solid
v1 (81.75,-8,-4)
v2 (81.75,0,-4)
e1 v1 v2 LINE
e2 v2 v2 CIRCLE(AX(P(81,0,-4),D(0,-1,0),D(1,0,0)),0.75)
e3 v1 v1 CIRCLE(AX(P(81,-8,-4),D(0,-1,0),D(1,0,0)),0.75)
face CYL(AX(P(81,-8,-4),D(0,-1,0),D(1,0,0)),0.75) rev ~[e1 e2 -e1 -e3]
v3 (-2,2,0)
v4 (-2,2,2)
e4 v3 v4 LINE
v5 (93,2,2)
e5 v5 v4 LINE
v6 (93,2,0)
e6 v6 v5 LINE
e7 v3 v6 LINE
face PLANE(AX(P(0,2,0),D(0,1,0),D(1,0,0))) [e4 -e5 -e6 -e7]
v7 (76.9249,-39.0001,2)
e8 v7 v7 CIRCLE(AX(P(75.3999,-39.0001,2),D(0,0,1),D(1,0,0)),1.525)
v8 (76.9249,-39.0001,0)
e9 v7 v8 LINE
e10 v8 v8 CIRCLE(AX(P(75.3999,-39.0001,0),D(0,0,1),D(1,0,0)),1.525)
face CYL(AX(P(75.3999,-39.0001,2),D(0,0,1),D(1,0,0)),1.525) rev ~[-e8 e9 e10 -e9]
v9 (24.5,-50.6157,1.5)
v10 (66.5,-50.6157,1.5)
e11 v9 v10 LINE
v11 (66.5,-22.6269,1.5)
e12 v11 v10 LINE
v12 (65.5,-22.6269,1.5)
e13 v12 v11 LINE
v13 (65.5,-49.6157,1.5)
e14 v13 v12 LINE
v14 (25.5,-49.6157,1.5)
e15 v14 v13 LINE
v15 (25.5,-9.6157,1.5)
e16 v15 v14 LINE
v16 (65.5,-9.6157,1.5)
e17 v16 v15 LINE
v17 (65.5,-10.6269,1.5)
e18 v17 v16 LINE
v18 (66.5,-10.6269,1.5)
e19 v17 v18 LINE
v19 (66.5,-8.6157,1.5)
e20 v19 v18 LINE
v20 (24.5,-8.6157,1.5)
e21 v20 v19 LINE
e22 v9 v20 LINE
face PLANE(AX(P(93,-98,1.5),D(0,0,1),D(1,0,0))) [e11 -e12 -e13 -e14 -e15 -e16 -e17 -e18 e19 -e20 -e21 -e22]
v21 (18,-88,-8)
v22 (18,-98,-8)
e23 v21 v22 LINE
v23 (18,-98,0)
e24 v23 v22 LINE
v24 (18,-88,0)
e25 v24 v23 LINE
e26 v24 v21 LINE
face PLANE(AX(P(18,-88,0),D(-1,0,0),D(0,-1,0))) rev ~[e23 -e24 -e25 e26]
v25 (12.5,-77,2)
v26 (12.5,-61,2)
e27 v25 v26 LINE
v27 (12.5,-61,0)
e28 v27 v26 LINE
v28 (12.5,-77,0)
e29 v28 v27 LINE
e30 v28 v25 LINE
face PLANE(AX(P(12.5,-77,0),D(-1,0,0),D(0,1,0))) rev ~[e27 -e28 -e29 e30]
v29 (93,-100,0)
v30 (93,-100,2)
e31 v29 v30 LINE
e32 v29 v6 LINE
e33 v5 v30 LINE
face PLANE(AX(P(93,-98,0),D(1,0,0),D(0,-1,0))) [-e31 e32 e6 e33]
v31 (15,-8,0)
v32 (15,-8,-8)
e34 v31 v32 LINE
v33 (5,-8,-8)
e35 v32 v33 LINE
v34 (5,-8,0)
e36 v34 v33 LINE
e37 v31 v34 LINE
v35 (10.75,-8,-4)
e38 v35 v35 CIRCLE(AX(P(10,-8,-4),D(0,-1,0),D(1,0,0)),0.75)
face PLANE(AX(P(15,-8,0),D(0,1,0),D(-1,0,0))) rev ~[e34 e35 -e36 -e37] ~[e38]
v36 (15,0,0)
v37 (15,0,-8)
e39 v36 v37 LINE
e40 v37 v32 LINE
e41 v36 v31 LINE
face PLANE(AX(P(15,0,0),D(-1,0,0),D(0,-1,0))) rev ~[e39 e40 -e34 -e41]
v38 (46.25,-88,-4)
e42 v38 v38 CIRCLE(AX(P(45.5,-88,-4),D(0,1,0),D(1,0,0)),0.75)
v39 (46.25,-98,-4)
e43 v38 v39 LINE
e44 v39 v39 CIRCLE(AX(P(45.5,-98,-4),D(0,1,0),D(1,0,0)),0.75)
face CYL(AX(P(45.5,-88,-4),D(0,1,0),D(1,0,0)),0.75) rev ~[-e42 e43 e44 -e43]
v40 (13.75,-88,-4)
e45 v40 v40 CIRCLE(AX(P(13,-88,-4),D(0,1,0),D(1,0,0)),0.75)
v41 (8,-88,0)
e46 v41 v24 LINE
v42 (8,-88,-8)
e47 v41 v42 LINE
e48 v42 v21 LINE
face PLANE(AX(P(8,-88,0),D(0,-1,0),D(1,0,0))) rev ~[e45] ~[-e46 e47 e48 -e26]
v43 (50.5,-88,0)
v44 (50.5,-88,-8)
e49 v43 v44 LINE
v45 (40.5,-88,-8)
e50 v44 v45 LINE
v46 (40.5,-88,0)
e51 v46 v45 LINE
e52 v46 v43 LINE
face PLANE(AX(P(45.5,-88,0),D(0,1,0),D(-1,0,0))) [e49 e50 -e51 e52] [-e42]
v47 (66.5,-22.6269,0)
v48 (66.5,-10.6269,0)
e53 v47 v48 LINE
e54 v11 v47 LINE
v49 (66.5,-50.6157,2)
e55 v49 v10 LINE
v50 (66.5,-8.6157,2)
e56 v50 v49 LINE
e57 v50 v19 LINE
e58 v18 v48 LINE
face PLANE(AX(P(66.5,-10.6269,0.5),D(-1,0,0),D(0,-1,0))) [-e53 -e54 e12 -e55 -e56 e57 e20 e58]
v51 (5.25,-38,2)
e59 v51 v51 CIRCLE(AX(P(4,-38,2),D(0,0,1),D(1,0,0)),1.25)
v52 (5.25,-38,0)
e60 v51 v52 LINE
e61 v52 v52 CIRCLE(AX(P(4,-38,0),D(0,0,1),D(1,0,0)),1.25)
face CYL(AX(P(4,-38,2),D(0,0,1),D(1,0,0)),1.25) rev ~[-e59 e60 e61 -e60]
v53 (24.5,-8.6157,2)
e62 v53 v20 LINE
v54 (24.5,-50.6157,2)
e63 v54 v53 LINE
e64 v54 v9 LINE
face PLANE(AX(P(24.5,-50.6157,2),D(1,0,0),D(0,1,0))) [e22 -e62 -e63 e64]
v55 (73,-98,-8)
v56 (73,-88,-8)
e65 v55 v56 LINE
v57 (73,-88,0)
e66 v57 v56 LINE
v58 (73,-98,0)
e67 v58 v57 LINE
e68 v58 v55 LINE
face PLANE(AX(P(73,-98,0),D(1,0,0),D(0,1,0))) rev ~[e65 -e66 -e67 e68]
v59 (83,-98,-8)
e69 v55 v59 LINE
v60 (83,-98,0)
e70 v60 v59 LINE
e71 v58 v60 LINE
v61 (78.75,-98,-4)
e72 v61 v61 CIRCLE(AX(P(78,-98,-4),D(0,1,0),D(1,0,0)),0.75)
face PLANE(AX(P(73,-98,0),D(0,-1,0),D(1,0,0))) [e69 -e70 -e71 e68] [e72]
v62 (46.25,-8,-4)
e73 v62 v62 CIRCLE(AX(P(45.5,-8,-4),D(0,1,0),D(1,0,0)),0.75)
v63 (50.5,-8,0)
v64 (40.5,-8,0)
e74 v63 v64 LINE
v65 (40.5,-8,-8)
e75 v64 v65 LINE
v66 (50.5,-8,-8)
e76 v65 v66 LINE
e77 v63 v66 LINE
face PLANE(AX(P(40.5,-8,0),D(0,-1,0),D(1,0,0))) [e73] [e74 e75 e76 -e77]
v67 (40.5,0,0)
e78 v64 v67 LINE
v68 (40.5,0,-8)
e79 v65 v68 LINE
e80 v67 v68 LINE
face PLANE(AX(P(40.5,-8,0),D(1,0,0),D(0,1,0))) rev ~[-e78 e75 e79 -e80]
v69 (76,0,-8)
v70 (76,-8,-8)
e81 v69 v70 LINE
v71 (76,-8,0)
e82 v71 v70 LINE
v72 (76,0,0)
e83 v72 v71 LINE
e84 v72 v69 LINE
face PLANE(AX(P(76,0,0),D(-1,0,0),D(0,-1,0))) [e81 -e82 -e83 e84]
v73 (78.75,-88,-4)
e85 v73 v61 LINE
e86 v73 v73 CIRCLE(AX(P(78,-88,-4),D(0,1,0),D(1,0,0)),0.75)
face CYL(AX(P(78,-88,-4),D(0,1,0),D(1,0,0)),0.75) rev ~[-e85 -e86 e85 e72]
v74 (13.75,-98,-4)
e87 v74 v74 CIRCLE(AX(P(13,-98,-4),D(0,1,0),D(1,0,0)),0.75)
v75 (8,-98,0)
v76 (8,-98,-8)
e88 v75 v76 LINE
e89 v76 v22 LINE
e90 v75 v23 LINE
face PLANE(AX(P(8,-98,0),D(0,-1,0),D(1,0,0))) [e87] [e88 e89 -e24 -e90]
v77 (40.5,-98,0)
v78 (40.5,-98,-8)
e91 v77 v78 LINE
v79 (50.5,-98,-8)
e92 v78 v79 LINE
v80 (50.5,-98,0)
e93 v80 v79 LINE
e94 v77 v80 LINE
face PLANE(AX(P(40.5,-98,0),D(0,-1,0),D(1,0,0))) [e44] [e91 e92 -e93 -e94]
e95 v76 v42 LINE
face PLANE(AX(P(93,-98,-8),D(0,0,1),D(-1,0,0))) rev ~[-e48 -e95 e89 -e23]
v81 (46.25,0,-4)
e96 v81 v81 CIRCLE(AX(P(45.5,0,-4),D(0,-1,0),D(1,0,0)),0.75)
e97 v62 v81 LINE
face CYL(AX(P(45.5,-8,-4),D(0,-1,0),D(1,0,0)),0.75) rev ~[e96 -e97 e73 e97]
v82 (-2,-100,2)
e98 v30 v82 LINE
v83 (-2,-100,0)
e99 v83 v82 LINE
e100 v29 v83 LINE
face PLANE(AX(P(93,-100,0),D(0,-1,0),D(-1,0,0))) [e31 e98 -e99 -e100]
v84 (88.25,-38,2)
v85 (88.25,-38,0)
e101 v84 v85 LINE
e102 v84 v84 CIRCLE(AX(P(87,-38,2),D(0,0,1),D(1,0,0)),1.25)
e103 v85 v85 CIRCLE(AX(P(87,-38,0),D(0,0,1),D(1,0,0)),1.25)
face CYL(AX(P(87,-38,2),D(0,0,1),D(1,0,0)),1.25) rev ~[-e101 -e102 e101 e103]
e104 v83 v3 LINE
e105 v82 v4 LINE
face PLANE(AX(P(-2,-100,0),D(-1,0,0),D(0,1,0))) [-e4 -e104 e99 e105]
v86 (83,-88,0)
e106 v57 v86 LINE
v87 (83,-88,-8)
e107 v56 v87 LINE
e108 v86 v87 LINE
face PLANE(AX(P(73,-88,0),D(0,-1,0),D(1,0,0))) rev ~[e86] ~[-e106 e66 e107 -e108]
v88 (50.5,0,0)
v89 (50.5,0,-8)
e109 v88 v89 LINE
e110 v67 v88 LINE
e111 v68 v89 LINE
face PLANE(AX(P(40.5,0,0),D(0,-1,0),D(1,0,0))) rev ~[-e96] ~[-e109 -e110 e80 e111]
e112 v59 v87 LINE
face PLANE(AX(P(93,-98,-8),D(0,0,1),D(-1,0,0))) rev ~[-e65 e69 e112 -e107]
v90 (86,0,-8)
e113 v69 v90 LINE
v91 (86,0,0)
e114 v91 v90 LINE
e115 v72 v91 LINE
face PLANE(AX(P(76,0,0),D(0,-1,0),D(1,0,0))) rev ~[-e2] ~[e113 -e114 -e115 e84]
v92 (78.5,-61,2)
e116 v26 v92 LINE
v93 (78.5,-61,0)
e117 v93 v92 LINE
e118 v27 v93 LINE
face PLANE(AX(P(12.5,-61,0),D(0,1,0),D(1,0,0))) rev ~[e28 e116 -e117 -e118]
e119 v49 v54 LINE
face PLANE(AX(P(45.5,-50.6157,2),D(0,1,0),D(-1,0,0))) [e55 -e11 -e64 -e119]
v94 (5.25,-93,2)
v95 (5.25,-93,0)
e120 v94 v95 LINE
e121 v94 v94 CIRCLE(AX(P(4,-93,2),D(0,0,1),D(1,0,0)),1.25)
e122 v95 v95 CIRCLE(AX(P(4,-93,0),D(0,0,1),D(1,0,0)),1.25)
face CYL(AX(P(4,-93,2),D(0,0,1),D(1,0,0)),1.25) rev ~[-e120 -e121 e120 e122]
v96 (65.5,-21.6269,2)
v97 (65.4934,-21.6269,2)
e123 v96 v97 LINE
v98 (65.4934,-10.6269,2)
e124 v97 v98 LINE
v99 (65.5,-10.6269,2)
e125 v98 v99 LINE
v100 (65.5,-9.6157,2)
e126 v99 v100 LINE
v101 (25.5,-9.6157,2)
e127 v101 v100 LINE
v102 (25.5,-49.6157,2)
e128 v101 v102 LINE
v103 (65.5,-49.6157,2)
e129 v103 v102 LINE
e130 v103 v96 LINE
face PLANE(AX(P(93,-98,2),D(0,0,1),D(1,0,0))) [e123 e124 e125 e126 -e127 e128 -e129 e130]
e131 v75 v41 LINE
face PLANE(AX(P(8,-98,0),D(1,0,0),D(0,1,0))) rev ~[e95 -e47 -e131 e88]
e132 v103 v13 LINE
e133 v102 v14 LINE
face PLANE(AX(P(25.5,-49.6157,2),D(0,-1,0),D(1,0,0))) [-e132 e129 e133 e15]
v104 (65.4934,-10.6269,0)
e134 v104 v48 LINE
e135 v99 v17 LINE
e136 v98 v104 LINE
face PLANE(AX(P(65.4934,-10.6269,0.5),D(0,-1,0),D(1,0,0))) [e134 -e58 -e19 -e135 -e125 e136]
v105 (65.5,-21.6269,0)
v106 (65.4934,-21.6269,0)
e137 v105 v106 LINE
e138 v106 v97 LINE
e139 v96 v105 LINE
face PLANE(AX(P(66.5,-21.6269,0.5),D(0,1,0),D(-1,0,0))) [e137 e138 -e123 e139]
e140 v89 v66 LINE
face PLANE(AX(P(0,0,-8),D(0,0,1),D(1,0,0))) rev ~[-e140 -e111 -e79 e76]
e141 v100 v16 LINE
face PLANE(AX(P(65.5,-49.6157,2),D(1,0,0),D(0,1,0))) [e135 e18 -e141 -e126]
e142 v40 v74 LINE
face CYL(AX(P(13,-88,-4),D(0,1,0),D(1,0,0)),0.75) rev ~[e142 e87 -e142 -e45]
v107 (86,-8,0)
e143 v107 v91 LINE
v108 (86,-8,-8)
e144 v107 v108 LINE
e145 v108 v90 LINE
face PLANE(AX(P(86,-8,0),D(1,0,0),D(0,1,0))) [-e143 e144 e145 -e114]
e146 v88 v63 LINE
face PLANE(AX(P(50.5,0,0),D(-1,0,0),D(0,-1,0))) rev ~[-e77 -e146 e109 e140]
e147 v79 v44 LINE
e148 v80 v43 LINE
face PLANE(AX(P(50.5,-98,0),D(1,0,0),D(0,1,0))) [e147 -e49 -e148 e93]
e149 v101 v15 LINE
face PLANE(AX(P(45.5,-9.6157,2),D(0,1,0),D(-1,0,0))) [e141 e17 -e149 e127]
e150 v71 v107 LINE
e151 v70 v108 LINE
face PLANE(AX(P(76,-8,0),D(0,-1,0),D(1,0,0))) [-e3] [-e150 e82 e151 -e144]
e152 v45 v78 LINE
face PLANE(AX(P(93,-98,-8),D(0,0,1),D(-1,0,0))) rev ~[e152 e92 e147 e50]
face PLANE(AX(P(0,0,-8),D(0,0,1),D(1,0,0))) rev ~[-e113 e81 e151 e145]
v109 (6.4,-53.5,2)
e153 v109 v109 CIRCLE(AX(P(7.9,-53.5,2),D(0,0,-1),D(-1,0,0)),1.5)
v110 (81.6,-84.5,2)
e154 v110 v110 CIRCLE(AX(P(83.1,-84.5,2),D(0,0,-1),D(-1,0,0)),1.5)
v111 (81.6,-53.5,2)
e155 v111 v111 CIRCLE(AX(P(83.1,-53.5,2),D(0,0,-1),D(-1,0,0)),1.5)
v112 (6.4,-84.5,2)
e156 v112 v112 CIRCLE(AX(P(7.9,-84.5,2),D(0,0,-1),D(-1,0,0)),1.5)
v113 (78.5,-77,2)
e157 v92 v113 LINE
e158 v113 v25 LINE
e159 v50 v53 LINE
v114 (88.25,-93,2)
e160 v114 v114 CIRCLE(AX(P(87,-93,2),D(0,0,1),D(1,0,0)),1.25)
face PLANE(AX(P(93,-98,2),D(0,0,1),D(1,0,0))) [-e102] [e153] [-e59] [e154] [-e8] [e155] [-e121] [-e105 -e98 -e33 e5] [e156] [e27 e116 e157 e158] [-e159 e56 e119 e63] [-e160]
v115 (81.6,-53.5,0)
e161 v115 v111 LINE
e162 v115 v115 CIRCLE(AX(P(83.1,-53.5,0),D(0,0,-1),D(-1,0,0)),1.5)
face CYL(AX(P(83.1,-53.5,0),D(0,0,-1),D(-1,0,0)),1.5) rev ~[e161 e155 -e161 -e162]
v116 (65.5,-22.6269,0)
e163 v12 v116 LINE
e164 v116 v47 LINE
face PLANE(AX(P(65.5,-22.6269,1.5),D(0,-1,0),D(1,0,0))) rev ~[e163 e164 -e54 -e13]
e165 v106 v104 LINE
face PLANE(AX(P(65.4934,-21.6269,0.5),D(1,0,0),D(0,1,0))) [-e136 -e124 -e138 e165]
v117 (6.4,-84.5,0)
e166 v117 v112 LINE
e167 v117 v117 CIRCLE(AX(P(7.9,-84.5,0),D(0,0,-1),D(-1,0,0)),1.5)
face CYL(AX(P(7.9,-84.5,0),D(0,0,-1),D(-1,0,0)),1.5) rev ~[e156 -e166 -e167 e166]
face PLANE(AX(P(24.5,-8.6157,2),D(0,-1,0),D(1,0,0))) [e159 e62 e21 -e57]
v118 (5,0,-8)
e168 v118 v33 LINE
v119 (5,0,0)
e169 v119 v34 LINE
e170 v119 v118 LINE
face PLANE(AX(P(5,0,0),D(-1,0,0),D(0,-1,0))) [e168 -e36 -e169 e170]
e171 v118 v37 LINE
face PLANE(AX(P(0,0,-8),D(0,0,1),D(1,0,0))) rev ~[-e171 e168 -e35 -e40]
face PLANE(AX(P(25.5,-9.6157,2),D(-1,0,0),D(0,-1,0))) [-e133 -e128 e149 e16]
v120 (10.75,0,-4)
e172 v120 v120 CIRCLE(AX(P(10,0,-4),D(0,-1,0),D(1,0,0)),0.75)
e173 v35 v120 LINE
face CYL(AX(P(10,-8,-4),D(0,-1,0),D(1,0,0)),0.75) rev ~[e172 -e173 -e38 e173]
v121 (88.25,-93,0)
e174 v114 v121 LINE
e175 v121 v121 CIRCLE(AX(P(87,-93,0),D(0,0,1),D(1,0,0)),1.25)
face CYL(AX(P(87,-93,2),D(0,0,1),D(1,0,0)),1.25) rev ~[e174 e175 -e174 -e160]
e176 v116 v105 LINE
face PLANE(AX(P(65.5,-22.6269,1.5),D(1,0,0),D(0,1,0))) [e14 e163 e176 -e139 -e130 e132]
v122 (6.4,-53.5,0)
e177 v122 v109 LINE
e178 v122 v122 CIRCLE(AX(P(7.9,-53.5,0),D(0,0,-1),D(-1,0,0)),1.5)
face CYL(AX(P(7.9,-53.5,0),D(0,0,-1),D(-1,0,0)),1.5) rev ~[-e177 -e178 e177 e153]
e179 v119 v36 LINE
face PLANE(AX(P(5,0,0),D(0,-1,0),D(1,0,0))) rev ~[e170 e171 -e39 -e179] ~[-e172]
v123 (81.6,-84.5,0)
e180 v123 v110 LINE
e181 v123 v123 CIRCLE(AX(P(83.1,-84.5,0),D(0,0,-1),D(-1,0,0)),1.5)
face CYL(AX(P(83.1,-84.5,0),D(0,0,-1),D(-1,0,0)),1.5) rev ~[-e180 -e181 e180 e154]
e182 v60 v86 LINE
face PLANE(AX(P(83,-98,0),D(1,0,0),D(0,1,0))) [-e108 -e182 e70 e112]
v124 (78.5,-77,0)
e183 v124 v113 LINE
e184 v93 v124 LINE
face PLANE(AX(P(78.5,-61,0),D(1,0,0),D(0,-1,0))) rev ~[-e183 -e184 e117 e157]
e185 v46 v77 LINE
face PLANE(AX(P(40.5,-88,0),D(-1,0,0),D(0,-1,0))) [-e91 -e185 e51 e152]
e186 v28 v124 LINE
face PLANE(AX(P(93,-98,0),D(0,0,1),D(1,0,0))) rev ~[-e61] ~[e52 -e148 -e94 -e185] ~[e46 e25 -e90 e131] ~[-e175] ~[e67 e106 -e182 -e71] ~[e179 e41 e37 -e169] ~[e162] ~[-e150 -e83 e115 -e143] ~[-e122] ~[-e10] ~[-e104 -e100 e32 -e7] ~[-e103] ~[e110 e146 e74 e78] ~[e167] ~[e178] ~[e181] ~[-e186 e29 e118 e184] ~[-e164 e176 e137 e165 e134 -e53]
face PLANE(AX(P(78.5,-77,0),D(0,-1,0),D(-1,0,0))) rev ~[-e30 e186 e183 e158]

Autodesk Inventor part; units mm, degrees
ref_plane "YZ Plane" through (0, 0, 0) normal (1, 0, 0) x (0, 1, 0)
ref_plane "XZ Plane" through (0, 0, 0) normal (0, 1, 0) x (-1, 0, 0)
ref_plane "XY Plane" through (0, 0, 0) normal (0, 0, 1) x (1, 0, 0)
ref_plane "Work Plane1" through (0, 0, 0) normal (0, 0, 1) x (1, 0, 0)
sketch "Sketch1" plane through (0, 0, 0) normal (0, 0, 1) x (1, 0, 0)
  line L0 (5, 0) -> (86, 0) projected
  line L1 (86, -8) -> (86, 0) projected
  line L2 (5, 0) -> (5, -8) projected
  line L3 (43, 0) -> (43, -8) projected
  line L4 (53, -8) -> (53, 0) projected
  line L5 (86, 0) -> (76, 0)
  line L6 (76, 0) -> (76, -8)
  line L7 (76, -8) -> (86, -8)
  line L8 (86, -8) -> (86, 0)
  line L9 (5, 0) -> (15, 0)
  line L10 (15, 0) -> (15, -8)
  line L11 (15, -8) -> (5, -8)
  line L12 (5, -8) -> (5, 0)
  point P0 (0, 0)
  dimension "d0" = 10
  dimension "d1" = 8
  dimension "d3" = 10
  dimension "d4" = 8
extrude "Extrusion1" add sketch "Sketch1" against normal blind 8
sketch "Sketch2" plane through (0, 0, 0) normal (0, 0, 1) x (1, 0, 0)
  line L0 (15, 0) -> (15, -8) projected
  line L1 (76, -8) -> (76, 0) projected
  line L2 (15, -8) -> (76, -8)
  line L3 (45.5, -8) -> (40.5, -8)
  line L4 (40.5, -8) -> (40.5, 0)
  line L5 (40.5, 0) -> (50.5, 0)
  line L6 (50.5, 0) -> (50.5, -8)
  point P0 (0, 0)
  dimension "d7" = 5
  dimension "d8" = 10
extrude "Extrusion2" add sketch "Sketch2" against normal blind 8
sketch "Sketch3" plane through (76, -8, 0) normal (0, -1, 0) x (1, 0, 0)
  line L0 (10, -8) -> (0, -8) projected
  circle A0 centre (5, -4) radius 0.75
  line L1 (-25.5, -8) -> (-35.5, -8) projected
  circle A1 centre (-30.5, -4) radius 0.75
  line L2 (-61, -8) -> (-71, -8) projected
  circle A2 centre (-66, -4) radius 0.75
  point P0 (-76, 0)
  dimension "d12" = 1.5
  dimension "d14" = 1.5
  dimension "d16" = 1.5
extrude "Extrusion3" cut sketch "Sketch3" against normal blind 8
ref_plane "Work Plane2" through (93, -98, 0) normal (0, 0, 1) x (-1, 0, 0)
sketch "Sketch4" plane through (93, -98, 0) normal (0, 0, 1) x (-1, 0, 0)
  line L0 (10, 0) -> (10, -10) projected
  line L1 (85, 0) -> (85, -10) projected
  line L2 (95, 0) -> (0, 0) projected
  line L3 (10, 0) -> (20, 0)
  line L4 (20, 0) -> (20, -10)
  line L5 (20, -10) -> (10, -10)
  line L6 (10, -10) -> (10, 0)
  line L7 (85, -10) -> (75, -10)
  line L8 (75, -10) -> (75, 0)
  line L9 (75, 0) -> (85, 0)
  line L10 (85, 0) -> (85, -10)
  line L11 (75, 0) -> (20, 0)
  line L12 (47.5, -10) -> (52.5, -10)
  line L13 (52.5, -10) -> (52.5, 0)
  line L14 (52.5, 0) -> (42.5, 0)
  line L15 (42.5, 0) -> (42.5, -10)
  line L16 (42.5, -10) -> (47.5, -10)
  point P0 (93, -98)
  dimension "d19" = 10
  dimension "d20" = 10
  dimension "d21" = 10
  dimension "d22" = 10
  dimension "d24" = 5
  dimension "d25" = 10
  dimension "d26" = 10
  dimension "d27" = 10
extrude "Extrusion4" add sketch "Sketch4" against normal blind 8
sketch "Sketch5" plane through (73, -88, 0) normal (0, 1, 0) x (1, 0, 0)
  line L0 (10, 0) -> (0, 0) projected
  circle A0 centre (5, 4) radius 0.75
  line L1 (-22.5, 0) -> (-32.5, 0) projected
  circle A1 centre (-27.5, 4) radius 0.75
  line L2 (-55, 0) -> (-65, 0) projected
  circle A2 centre (-60, 4) radius 0.75
  point P0 (-73, 0)
  dimension "d31" = 1.5
  dimension "d33" = 1.5
  dimension "d35" = 1.5
extrude "Extrusion5" cut sketch "Sketch5" against normal blind 10
sketch "Sketch6" plane through (93, -98, 0) normal (0, 0, 1) x (1, 0, 0)
  line L0 (0, 0) -> (0, -2) projected
  line L1 (-93, 100) -> (-95, 100) projected
  line L2 (-95, 100) -> (0, 100)
  line L3 (0, 100) -> (0, -2)
  line L4 (0, -2) -> (-95, -2)
  line L5 (-95, -2) -> (-95, 100)
  circle A0 centre (-6, 50) radius 0.75 projected
  circle A1 centre (-6, 5) radius 0.75 projected
  circle A2 centre (-89, 5) radius 0.75 projected
  circle A3 centre (-89, 50) radius 0.75 projected
  point P0 (-93, 98)
extrude "Extrusion6" add sketch "Sketch6" along normal blind 2
sketch "Sketch7" plane through (93, -98, 0) normal (0, 0, -1) x (-1, 0, 0)
  line L0 (42.5, 90) -> (52.5, 90) projected
  line L1 (47.5, 84) -> (80.5, 84)
  line L2 (80.5, 84) -> (80.5, 68)
  line L3 (80.5, 68) -> (14.5, 68)
  line L4 (14.5, 68) -> (14.5, 84)
  line L5 (14.5, 84) -> (47.5, 84)
  point P0 (93, 98)
  dimension "d41" = 33
  dimension "d42" = 16
  dimension "d43" = 66
extrude "Extrusion7" cut sketch "Sketch7" against normal blind 2
sketch "Sketch8" plane through (93, -98, 0) normal (0, 0, -1) x (-1, 0, 0)
  line L0 (14.5, 84) -> (80.5, 84) projected
  circle A0 centre (85.1, 86.9) radius 1.375
  circle A1 centre (9.9, 86.9) radius 1.375
  line L1 (80.5, 68) -> (14.5, 68) projected
  circle A2 centre (9.9, 65.1) radius 1.375
  circle A3 centre (85.1, 65.1) radius 1.375
  point P0 (93, 98)
  dimension "d50" = 2.75
  dimension "d54" = 2.75
  dimension "d61" = 2.75
  dimension "d64" = 2.75
extrude "Extrusion8" cut sketch "Sketch8" against normal blind 2
sketch "Sketch9" plane through (93, -98, 2) normal (0, 0, 1) x (1, 0, 0)
  line L0 (-88, 88.797) -> (-7.6952, 88.797)
  line L1 (-7.6952, 88.797) -> (-7.6952, 63.1475)
  line L2 (-7.6952, 63.1475) -> (-88, 63.1475)
  line L3 (-88, 63.1475) -> (-88, 88.797)
  point P0 (-93, 98)
extrude "Extrusion9" add sketch "Sketch9" against normal blind 2
sketch "Sketch10" plane through (93, -98, 0) normal (0, 0, -1) x (-1, 0, 0)
  line L0 (42.5, 10) -> (52.5, 10) projected
  line L1 (47.5, 16) -> (14.5, 16)
  line L2 (14.5, 16) -> (14.5, 32)
  line L3 (14.5, 32) -> (80.5, 32)
  line L4 (80.5, 32) -> (80.5, 16)
  line L5 (80.5, 16) -> (47.5, 16)
  circle A0 centre (9.9, 13.1) radius 1.375
  circle A1 centre (85.1, 13.1) radius 1.375
  line L6 (47.5, 32) -> (47.5, 37.4)
  circle A2 centre (85.1, 34.9) radius 1.375
  circle A3 centre (9.9, 34.9) radius 1.375
  point P0 (93, 98)
  dimension "d70" = 33
  dimension "d71" = 16
  dimension "d72" = 66
  dimension "d73" = 16
  dimension "d74" = 33
  dimension "d80" = 2.75
  dimension "d83" = 2.75
  dimension "d84" = 5.4
  dimension "d89" = 2.75
  dimension "d92" = 2.75
extrude "Extrusion10" cut sketch "Sketch10" against normal blind 2
sketch "Sketch11" plane through (93, -98, 0) normal (0, 0, -1) x (-1, 0, 0)
  circle A0 centre (85.1, 13.1) radius 1.375 projected
  line L0 (8.0573, 36.8158) -> (87.4686, 36.8158)
  line L1 (87.4686, 36.8158) -> (87.4686, 10.2199)
  line L2 (87.4686, 10.2199) -> (8.0573, 10.2199)
  line L3 (8.0573, 10.2199) -> (8.0573, 36.8158)
  point P0 (93, 98)
extrude "Extrusion11" add sketch "Sketch11" against normal blind 2
sketch "Sketch12" plane through (93, -98, 0) normal (0, 0, -1) x (-1, 0, 0)
  line L0 (82.8776, 15.0849) -> (86.9969, 15.0849)
  line L1 (86.9969, 15.0849) -> (86.9969, 11.175)
  line L2 (86.9969, 11.175) -> (82.8776, 11.175)
  line L3 (82.8776, 11.175) -> (82.8776, 15.0849)
  point P0 (93, 98)
extrude "Extrusion12" add sketch "Sketch12" against normal blind 2
sketch "Sketch13" plane through (93, -98, 0) normal (0, 0, -1) x (-1, 0, 0)
  line L0 (42.5, 10) -> (52.5, 10) projected
  circle A0 centre (85.1, 22.5) radius 2.75
  point P0 (93, 98)
  dimension "d104" = 5.5
extrude "Extrusion13" cut sketch "Sketch13" against normal blind 2
sketch "Sketch14" plane through (93, -98, 2) normal (0, 0, 1) x (1, 0, 0)
  line L0 (-88.4753, 26.414) -> (-81.2801, 26.414)
  line L1 (-81.2801, 26.414) -> (-81.2801, 18.3554)
  line L2 (-81.2801, 18.3554) -> (-88.4753, 18.3554)
  line L3 (-88.4753, 18.3554) -> (-88.4753, 26.414)
  point P0 (-93, 98)
extrude "Extrusion14" add sketch "Sketch14" against normal blind 2
sketch "Sketch15" plane through (93, -98, 2) normal (0, 0, 1) x (1, 0, 0)
  point P0 (-93, 98)
sketch "Sketch16" plane through (93, -98, 0) normal (0, 0, -1) x (-1, 0, 0)
  line L0 (52.5, 90) -> (42.5, 90) projected
  circle A0 centre (9.9, 81.5) radius 1.5
  point P0 (93, 98)
  dimension "d118" = 3
extrude "Extrusion15" cut sketch "Sketch16" against normal blind 2
sketch "Sketch17" plane through (93, -98, 0) normal (0, 0, -1) x (-1, 0, 0)
  line L0 (7.2985, 84.1851) -> (12.7093, 84.1851)
  line L1 (12.7093, 84.1851) -> (12.7093, 78.544)
  line L2 (12.7093, 78.544) -> (7.2985, 78.544)
  line L3 (7.2985, 78.544) -> (7.2985, 84.1851)
  point P0 (93, 98)
extrude "Extrusion16" add sketch "Sketch17" against normal blind 2
sketch "Sketch18" plane through (93, -98, 0) normal (0, 0, -1) x (-1, 0, 0)
  line L0 (42.5, 10) -> (52.5, 10) projected
  circle A0 centre (85.1, 18.5) radius 1.5
  point P0 (93, 98)
  dimension "d127" = 3
extrude "Extrusion17" cut sketch "Sketch18" against normal blind 2
sketch "Sketch19" plane through (93, -98, 0) normal (0, 0, -1) x (-1, 0, 0)
  line L0 (42.5, 10) -> (52.5, 10) projected
  circle A0 centre (9.9, 18.5) radius 1.5
  point P0 (93, 98)
  dimension "d134" = 3
extrude "Extrusion18" cut sketch "Sketch19" against normal blind 2
sketch "Sketch20" plane through (93, -98, 0) normal (0, 0, -1) x (-1, 0, 0)
  line L0 (6.951, 21.791) -> (88.5357, 21.791)
  line L1 (88.5357, 21.791) -> (88.5357, 14.1465)
  line L2 (88.5357, 14.1465) -> (6.951, 14.1465)
  line L3 (6.951, 14.1465) -> (6.951, 21.791)
  point P0 (93, 98)
extrude "Extrusion19" add sketch "Sketch20" against normal blind 2
sketch "Sketch21" plane through (93, -98, 0) normal (0, 0, -1) x (-1, 0, 0)
  line L0 (42.5, 10) -> (52.5, 10) projected
  circle A0 centre (85.1, 13.5) radius 1.5
  circle A1 centre (9.9, 13.5) radius 1.5
  line L1 (47.5, 21) -> (80.5, 21)
  line L2 (80.5, 21) -> (80.5, 37)
  line L3 (80.5, 37) -> (14.5, 37)
  line L4 (14.5, 37) -> (14.5, 21)
  line L5 (14.5, 21) -> (47.5, 21)
  circle A2 centre (9.9, 44.5) radius 1.5
  circle A3 centre (85.1, 44.5) radius 1.5
  point P0 (93, 98)
  dimension "d143" = 3
  dimension "d147" = 3
  dimension "d150" = 33
  dimension "d151" = 16
  dimension "d152" = 66
  dimension "d157" = 3
  dimension "d161" = 3
extrude "Extrusion20" cut sketch "Sketch21" against normal blind 2
sketch "Sketch22" plane through (93, -98, 0) normal (0, 0, -1) x (-1, 0, 0)
  line L0 (88.1, 50.9663) -> (90.0333, 50.9663)
  line L1 (90.0333, 50.9663) -> (90.0333, 48.9675)
  line L2 (90.0333, 48.9675) -> (88.1, 48.9675)
  line L3 (88.1, 48.9675) -> (88.1, 50.9663)
  line L4 (5.046, 50.7936) -> (6.9554, 50.7936)
  line L5 (6.9554, 50.7936) -> (6.9554, 48.9675)
  line L6 (6.9554, 48.9675) -> (5.046, 48.9675)
  line L7 (5.046, 48.9675) -> (5.046, 50.7936)
  point P0 (93, 98)
extrude "Extrusion21" add sketch "Sketch22" against normal blind 2
sketch "Sketch23" plane through (93, -98, 2) normal (0, 0, 1) x (1, 0, 0)
  point P0 (-93, 98)
  point P1 (-57.8, 88.8806)
  point P2 (-56.6, 85.3806)
sketch "Sketch24" plane through (93, -98, 2) normal (0, 0, 1) x (1, 0, 0)
  circle A0 centre (-89, 60) radius 0.75 projected
  point P0 (-93, 98)
extrude "Extrusion22" cut sketch "Sketch24" against normal blind 2
sketch "Sketch25" plane through (93, -98, 2) normal (0, 0, 1) x (1, 0, 0)
  circle A0 centre (-89, 60) radius 0.75 projected
  circle A1 centre (-89, 60) radius 1.25
  point P0 (-93, 98)
  dimension "d168" = 2.5
extrude "Extrusion23" cut sketch "Sketch25" against normal blind 2
sketch "Sketch26" plane through (93, -98, 2) normal (0, 0, 1) x (1, 0, 0)
  circle A0 centre (-89, 5) radius 0.75 projected
  circle A1 centre (-89, 5) radius 1.25
  circle A2 centre (-6, 5) radius 0.75 projected
  circle A3 centre (-6, 5) radius 1.25
  point P0 (-93, 98)
  dimension "d171" = 2.5
  dimension "d172" = 2.5
extrude "Extrusion24" cut sketch "Sketch26" against normal blind 2 contours A0 | A1 | A3
sketch "Sketch27" plane through (93, -98, 2) normal (0, 0, 1) x (1, 0, 0)
  point P0 (-93, 98)
sketch "Sketch28" plane through (93, -98, 2) normal (0, 0, 1) x (1, 0, 0)
  circle A0 centre (-6, 60) radius 0.75 projected
  circle A1 centre (-6, 60) radius 1.25
  point P0 (-93, 98)
  dimension "d175" = 2.5
extrude "Extrusion25" cut sketch "Sketch28" against normal blind 2 contours A0 | A1
sketch "Sketch29" plane through (93, -98, 2) normal (0, 0, 1) x (1, 0, 0)
  circle A0 centre (-17.6001, 58.9999) radius 1.525 projected
  point P0 (-93, 98)
extrude "Extrusion26" cut sketch "Sketch29" against normal blind 2
sketch "Sketch30" plane through (93, -98, 2) normal (0, 0, 1) x (1, 0, 0)
  line L0 (-14.5, 37) -> (-80.5, 37) projected
  line L1 (-47.5, 37) -> (-47.5, 99.7686)
  line L2 (-27.5, 88.3843) -> (-67.5, 88.3843)
  line L3 (-67.5, 88.3843) -> (-67.5, 48.3843)
  line L4 (-67.5, 48.3843) -> (-27.5, 48.3843)
  line L5 (-27.5, 48.3843) -> (-27.5, 88.3843)
  line L6 (-27.5, 88.3843) -> (-67.5, 48.3843) construction
  line L7 (-67.5, 88.3843) -> (-27.5, 48.3843) construction
  line L8 (-26.5, 47.3843) -> (-68.5, 47.3843)
  line L9 (-68.5, 47.3843) -> (-68.5, 89.3843)
  line L10 (-68.5, 89.3843) -> (-26.5, 89.3843)
  line L11 (-26.5, 89.3843) -> (-26.5, 47.3843)
  point P0 (-93, 98)
  point P1 (-47.5, 68.3843)
  dimension "d180" = 40
  dimension "d181" = 40
  dimension "d182" = 1
extrude "Extrusion27" cut sketch "Sketch30" against normal blind 0.5 contours L8 L9 L10 L1 L2 L3 L4 | L1 L4 L5 L2 L10 L11 L8
sketch "Sketch31" plane through (93, -98, 2) normal (0, 0, 1) x (1, 0, 0)
  line L0 (-27.5066, 88.3731) -> (-27.5066, 87.3731)
  line L1 (-26.5, 89.3843) -> (-26.5, 47.3843) projected
  line L2 (-27.5066, 87.3731) -> (-26.5, 87.3731)
  line L3 (-26.5, 87.3731) -> (-26.5, 76.3731)
  line L4 (-26.5, 76.3731) -> (-27.5066, 76.3731)
  line L5 (-27.5066, 76.3731) -> (-27.5066, 87.3731)
  point P0 (-93, 98)
  dimension "d185" = 1
  dimension "d186" = 11
extrude "Extrusion28" cut sketch "Sketch31" against normal blind 1.5
sketch "Sketch32" plane through (93, -98, 0.5) normal (0, 0, 1) x (1, 0, 0)
  line L0 (-26.5, 76.3731) -> (-26.5, 47.3843) projected
  line L1 (-27.5066, 76.3731) -> (-27.5066, 87.3731) projected
  line L2 (-26.5, 76.3731) -> (-27.5066, 76.3731)
  line L3 (-27.5066, 76.3731) -> (-27.5066, 87.3731)
  line L4 (-27.5066, 87.3731) -> (-26.5, 87.3731)
  line L5 (-26.5, 87.3731) -> (-26.5, 76.3731)
  point P0 (-93, 98)
extrude "Extrusion29" cut sketch "Sketch32" against normal blind 0.5
sketch "Sketch33" plane through (93, -98, 1.5) normal (0, 0, 1) x (1, 0, 0)
  line L0 (-26.5, 76.3731) -> (-27.5, 76.3731) projected
  line L1 (-27.5, 48.3843) -> (-27.5, 76.3731) projected
  line L2 (-26.5, 76.3731) -> (-27.5, 76.3731)
  line L3 (-27.5, 76.3731) -> (-27.5, 75.3731)
  line L4 (-27.5, 75.3731) -> (-26.5, 75.3731)
  line L5 (-26.5, 75.3731) -> (-26.5, 76.3731)
  point P0 (-93, 98)
  dimension "d191" = 1
extrude "Extrusion30" cut sketch "Sketch33" against normal blind 1.5
properties part number "Front" material "Nylon 6/6"
